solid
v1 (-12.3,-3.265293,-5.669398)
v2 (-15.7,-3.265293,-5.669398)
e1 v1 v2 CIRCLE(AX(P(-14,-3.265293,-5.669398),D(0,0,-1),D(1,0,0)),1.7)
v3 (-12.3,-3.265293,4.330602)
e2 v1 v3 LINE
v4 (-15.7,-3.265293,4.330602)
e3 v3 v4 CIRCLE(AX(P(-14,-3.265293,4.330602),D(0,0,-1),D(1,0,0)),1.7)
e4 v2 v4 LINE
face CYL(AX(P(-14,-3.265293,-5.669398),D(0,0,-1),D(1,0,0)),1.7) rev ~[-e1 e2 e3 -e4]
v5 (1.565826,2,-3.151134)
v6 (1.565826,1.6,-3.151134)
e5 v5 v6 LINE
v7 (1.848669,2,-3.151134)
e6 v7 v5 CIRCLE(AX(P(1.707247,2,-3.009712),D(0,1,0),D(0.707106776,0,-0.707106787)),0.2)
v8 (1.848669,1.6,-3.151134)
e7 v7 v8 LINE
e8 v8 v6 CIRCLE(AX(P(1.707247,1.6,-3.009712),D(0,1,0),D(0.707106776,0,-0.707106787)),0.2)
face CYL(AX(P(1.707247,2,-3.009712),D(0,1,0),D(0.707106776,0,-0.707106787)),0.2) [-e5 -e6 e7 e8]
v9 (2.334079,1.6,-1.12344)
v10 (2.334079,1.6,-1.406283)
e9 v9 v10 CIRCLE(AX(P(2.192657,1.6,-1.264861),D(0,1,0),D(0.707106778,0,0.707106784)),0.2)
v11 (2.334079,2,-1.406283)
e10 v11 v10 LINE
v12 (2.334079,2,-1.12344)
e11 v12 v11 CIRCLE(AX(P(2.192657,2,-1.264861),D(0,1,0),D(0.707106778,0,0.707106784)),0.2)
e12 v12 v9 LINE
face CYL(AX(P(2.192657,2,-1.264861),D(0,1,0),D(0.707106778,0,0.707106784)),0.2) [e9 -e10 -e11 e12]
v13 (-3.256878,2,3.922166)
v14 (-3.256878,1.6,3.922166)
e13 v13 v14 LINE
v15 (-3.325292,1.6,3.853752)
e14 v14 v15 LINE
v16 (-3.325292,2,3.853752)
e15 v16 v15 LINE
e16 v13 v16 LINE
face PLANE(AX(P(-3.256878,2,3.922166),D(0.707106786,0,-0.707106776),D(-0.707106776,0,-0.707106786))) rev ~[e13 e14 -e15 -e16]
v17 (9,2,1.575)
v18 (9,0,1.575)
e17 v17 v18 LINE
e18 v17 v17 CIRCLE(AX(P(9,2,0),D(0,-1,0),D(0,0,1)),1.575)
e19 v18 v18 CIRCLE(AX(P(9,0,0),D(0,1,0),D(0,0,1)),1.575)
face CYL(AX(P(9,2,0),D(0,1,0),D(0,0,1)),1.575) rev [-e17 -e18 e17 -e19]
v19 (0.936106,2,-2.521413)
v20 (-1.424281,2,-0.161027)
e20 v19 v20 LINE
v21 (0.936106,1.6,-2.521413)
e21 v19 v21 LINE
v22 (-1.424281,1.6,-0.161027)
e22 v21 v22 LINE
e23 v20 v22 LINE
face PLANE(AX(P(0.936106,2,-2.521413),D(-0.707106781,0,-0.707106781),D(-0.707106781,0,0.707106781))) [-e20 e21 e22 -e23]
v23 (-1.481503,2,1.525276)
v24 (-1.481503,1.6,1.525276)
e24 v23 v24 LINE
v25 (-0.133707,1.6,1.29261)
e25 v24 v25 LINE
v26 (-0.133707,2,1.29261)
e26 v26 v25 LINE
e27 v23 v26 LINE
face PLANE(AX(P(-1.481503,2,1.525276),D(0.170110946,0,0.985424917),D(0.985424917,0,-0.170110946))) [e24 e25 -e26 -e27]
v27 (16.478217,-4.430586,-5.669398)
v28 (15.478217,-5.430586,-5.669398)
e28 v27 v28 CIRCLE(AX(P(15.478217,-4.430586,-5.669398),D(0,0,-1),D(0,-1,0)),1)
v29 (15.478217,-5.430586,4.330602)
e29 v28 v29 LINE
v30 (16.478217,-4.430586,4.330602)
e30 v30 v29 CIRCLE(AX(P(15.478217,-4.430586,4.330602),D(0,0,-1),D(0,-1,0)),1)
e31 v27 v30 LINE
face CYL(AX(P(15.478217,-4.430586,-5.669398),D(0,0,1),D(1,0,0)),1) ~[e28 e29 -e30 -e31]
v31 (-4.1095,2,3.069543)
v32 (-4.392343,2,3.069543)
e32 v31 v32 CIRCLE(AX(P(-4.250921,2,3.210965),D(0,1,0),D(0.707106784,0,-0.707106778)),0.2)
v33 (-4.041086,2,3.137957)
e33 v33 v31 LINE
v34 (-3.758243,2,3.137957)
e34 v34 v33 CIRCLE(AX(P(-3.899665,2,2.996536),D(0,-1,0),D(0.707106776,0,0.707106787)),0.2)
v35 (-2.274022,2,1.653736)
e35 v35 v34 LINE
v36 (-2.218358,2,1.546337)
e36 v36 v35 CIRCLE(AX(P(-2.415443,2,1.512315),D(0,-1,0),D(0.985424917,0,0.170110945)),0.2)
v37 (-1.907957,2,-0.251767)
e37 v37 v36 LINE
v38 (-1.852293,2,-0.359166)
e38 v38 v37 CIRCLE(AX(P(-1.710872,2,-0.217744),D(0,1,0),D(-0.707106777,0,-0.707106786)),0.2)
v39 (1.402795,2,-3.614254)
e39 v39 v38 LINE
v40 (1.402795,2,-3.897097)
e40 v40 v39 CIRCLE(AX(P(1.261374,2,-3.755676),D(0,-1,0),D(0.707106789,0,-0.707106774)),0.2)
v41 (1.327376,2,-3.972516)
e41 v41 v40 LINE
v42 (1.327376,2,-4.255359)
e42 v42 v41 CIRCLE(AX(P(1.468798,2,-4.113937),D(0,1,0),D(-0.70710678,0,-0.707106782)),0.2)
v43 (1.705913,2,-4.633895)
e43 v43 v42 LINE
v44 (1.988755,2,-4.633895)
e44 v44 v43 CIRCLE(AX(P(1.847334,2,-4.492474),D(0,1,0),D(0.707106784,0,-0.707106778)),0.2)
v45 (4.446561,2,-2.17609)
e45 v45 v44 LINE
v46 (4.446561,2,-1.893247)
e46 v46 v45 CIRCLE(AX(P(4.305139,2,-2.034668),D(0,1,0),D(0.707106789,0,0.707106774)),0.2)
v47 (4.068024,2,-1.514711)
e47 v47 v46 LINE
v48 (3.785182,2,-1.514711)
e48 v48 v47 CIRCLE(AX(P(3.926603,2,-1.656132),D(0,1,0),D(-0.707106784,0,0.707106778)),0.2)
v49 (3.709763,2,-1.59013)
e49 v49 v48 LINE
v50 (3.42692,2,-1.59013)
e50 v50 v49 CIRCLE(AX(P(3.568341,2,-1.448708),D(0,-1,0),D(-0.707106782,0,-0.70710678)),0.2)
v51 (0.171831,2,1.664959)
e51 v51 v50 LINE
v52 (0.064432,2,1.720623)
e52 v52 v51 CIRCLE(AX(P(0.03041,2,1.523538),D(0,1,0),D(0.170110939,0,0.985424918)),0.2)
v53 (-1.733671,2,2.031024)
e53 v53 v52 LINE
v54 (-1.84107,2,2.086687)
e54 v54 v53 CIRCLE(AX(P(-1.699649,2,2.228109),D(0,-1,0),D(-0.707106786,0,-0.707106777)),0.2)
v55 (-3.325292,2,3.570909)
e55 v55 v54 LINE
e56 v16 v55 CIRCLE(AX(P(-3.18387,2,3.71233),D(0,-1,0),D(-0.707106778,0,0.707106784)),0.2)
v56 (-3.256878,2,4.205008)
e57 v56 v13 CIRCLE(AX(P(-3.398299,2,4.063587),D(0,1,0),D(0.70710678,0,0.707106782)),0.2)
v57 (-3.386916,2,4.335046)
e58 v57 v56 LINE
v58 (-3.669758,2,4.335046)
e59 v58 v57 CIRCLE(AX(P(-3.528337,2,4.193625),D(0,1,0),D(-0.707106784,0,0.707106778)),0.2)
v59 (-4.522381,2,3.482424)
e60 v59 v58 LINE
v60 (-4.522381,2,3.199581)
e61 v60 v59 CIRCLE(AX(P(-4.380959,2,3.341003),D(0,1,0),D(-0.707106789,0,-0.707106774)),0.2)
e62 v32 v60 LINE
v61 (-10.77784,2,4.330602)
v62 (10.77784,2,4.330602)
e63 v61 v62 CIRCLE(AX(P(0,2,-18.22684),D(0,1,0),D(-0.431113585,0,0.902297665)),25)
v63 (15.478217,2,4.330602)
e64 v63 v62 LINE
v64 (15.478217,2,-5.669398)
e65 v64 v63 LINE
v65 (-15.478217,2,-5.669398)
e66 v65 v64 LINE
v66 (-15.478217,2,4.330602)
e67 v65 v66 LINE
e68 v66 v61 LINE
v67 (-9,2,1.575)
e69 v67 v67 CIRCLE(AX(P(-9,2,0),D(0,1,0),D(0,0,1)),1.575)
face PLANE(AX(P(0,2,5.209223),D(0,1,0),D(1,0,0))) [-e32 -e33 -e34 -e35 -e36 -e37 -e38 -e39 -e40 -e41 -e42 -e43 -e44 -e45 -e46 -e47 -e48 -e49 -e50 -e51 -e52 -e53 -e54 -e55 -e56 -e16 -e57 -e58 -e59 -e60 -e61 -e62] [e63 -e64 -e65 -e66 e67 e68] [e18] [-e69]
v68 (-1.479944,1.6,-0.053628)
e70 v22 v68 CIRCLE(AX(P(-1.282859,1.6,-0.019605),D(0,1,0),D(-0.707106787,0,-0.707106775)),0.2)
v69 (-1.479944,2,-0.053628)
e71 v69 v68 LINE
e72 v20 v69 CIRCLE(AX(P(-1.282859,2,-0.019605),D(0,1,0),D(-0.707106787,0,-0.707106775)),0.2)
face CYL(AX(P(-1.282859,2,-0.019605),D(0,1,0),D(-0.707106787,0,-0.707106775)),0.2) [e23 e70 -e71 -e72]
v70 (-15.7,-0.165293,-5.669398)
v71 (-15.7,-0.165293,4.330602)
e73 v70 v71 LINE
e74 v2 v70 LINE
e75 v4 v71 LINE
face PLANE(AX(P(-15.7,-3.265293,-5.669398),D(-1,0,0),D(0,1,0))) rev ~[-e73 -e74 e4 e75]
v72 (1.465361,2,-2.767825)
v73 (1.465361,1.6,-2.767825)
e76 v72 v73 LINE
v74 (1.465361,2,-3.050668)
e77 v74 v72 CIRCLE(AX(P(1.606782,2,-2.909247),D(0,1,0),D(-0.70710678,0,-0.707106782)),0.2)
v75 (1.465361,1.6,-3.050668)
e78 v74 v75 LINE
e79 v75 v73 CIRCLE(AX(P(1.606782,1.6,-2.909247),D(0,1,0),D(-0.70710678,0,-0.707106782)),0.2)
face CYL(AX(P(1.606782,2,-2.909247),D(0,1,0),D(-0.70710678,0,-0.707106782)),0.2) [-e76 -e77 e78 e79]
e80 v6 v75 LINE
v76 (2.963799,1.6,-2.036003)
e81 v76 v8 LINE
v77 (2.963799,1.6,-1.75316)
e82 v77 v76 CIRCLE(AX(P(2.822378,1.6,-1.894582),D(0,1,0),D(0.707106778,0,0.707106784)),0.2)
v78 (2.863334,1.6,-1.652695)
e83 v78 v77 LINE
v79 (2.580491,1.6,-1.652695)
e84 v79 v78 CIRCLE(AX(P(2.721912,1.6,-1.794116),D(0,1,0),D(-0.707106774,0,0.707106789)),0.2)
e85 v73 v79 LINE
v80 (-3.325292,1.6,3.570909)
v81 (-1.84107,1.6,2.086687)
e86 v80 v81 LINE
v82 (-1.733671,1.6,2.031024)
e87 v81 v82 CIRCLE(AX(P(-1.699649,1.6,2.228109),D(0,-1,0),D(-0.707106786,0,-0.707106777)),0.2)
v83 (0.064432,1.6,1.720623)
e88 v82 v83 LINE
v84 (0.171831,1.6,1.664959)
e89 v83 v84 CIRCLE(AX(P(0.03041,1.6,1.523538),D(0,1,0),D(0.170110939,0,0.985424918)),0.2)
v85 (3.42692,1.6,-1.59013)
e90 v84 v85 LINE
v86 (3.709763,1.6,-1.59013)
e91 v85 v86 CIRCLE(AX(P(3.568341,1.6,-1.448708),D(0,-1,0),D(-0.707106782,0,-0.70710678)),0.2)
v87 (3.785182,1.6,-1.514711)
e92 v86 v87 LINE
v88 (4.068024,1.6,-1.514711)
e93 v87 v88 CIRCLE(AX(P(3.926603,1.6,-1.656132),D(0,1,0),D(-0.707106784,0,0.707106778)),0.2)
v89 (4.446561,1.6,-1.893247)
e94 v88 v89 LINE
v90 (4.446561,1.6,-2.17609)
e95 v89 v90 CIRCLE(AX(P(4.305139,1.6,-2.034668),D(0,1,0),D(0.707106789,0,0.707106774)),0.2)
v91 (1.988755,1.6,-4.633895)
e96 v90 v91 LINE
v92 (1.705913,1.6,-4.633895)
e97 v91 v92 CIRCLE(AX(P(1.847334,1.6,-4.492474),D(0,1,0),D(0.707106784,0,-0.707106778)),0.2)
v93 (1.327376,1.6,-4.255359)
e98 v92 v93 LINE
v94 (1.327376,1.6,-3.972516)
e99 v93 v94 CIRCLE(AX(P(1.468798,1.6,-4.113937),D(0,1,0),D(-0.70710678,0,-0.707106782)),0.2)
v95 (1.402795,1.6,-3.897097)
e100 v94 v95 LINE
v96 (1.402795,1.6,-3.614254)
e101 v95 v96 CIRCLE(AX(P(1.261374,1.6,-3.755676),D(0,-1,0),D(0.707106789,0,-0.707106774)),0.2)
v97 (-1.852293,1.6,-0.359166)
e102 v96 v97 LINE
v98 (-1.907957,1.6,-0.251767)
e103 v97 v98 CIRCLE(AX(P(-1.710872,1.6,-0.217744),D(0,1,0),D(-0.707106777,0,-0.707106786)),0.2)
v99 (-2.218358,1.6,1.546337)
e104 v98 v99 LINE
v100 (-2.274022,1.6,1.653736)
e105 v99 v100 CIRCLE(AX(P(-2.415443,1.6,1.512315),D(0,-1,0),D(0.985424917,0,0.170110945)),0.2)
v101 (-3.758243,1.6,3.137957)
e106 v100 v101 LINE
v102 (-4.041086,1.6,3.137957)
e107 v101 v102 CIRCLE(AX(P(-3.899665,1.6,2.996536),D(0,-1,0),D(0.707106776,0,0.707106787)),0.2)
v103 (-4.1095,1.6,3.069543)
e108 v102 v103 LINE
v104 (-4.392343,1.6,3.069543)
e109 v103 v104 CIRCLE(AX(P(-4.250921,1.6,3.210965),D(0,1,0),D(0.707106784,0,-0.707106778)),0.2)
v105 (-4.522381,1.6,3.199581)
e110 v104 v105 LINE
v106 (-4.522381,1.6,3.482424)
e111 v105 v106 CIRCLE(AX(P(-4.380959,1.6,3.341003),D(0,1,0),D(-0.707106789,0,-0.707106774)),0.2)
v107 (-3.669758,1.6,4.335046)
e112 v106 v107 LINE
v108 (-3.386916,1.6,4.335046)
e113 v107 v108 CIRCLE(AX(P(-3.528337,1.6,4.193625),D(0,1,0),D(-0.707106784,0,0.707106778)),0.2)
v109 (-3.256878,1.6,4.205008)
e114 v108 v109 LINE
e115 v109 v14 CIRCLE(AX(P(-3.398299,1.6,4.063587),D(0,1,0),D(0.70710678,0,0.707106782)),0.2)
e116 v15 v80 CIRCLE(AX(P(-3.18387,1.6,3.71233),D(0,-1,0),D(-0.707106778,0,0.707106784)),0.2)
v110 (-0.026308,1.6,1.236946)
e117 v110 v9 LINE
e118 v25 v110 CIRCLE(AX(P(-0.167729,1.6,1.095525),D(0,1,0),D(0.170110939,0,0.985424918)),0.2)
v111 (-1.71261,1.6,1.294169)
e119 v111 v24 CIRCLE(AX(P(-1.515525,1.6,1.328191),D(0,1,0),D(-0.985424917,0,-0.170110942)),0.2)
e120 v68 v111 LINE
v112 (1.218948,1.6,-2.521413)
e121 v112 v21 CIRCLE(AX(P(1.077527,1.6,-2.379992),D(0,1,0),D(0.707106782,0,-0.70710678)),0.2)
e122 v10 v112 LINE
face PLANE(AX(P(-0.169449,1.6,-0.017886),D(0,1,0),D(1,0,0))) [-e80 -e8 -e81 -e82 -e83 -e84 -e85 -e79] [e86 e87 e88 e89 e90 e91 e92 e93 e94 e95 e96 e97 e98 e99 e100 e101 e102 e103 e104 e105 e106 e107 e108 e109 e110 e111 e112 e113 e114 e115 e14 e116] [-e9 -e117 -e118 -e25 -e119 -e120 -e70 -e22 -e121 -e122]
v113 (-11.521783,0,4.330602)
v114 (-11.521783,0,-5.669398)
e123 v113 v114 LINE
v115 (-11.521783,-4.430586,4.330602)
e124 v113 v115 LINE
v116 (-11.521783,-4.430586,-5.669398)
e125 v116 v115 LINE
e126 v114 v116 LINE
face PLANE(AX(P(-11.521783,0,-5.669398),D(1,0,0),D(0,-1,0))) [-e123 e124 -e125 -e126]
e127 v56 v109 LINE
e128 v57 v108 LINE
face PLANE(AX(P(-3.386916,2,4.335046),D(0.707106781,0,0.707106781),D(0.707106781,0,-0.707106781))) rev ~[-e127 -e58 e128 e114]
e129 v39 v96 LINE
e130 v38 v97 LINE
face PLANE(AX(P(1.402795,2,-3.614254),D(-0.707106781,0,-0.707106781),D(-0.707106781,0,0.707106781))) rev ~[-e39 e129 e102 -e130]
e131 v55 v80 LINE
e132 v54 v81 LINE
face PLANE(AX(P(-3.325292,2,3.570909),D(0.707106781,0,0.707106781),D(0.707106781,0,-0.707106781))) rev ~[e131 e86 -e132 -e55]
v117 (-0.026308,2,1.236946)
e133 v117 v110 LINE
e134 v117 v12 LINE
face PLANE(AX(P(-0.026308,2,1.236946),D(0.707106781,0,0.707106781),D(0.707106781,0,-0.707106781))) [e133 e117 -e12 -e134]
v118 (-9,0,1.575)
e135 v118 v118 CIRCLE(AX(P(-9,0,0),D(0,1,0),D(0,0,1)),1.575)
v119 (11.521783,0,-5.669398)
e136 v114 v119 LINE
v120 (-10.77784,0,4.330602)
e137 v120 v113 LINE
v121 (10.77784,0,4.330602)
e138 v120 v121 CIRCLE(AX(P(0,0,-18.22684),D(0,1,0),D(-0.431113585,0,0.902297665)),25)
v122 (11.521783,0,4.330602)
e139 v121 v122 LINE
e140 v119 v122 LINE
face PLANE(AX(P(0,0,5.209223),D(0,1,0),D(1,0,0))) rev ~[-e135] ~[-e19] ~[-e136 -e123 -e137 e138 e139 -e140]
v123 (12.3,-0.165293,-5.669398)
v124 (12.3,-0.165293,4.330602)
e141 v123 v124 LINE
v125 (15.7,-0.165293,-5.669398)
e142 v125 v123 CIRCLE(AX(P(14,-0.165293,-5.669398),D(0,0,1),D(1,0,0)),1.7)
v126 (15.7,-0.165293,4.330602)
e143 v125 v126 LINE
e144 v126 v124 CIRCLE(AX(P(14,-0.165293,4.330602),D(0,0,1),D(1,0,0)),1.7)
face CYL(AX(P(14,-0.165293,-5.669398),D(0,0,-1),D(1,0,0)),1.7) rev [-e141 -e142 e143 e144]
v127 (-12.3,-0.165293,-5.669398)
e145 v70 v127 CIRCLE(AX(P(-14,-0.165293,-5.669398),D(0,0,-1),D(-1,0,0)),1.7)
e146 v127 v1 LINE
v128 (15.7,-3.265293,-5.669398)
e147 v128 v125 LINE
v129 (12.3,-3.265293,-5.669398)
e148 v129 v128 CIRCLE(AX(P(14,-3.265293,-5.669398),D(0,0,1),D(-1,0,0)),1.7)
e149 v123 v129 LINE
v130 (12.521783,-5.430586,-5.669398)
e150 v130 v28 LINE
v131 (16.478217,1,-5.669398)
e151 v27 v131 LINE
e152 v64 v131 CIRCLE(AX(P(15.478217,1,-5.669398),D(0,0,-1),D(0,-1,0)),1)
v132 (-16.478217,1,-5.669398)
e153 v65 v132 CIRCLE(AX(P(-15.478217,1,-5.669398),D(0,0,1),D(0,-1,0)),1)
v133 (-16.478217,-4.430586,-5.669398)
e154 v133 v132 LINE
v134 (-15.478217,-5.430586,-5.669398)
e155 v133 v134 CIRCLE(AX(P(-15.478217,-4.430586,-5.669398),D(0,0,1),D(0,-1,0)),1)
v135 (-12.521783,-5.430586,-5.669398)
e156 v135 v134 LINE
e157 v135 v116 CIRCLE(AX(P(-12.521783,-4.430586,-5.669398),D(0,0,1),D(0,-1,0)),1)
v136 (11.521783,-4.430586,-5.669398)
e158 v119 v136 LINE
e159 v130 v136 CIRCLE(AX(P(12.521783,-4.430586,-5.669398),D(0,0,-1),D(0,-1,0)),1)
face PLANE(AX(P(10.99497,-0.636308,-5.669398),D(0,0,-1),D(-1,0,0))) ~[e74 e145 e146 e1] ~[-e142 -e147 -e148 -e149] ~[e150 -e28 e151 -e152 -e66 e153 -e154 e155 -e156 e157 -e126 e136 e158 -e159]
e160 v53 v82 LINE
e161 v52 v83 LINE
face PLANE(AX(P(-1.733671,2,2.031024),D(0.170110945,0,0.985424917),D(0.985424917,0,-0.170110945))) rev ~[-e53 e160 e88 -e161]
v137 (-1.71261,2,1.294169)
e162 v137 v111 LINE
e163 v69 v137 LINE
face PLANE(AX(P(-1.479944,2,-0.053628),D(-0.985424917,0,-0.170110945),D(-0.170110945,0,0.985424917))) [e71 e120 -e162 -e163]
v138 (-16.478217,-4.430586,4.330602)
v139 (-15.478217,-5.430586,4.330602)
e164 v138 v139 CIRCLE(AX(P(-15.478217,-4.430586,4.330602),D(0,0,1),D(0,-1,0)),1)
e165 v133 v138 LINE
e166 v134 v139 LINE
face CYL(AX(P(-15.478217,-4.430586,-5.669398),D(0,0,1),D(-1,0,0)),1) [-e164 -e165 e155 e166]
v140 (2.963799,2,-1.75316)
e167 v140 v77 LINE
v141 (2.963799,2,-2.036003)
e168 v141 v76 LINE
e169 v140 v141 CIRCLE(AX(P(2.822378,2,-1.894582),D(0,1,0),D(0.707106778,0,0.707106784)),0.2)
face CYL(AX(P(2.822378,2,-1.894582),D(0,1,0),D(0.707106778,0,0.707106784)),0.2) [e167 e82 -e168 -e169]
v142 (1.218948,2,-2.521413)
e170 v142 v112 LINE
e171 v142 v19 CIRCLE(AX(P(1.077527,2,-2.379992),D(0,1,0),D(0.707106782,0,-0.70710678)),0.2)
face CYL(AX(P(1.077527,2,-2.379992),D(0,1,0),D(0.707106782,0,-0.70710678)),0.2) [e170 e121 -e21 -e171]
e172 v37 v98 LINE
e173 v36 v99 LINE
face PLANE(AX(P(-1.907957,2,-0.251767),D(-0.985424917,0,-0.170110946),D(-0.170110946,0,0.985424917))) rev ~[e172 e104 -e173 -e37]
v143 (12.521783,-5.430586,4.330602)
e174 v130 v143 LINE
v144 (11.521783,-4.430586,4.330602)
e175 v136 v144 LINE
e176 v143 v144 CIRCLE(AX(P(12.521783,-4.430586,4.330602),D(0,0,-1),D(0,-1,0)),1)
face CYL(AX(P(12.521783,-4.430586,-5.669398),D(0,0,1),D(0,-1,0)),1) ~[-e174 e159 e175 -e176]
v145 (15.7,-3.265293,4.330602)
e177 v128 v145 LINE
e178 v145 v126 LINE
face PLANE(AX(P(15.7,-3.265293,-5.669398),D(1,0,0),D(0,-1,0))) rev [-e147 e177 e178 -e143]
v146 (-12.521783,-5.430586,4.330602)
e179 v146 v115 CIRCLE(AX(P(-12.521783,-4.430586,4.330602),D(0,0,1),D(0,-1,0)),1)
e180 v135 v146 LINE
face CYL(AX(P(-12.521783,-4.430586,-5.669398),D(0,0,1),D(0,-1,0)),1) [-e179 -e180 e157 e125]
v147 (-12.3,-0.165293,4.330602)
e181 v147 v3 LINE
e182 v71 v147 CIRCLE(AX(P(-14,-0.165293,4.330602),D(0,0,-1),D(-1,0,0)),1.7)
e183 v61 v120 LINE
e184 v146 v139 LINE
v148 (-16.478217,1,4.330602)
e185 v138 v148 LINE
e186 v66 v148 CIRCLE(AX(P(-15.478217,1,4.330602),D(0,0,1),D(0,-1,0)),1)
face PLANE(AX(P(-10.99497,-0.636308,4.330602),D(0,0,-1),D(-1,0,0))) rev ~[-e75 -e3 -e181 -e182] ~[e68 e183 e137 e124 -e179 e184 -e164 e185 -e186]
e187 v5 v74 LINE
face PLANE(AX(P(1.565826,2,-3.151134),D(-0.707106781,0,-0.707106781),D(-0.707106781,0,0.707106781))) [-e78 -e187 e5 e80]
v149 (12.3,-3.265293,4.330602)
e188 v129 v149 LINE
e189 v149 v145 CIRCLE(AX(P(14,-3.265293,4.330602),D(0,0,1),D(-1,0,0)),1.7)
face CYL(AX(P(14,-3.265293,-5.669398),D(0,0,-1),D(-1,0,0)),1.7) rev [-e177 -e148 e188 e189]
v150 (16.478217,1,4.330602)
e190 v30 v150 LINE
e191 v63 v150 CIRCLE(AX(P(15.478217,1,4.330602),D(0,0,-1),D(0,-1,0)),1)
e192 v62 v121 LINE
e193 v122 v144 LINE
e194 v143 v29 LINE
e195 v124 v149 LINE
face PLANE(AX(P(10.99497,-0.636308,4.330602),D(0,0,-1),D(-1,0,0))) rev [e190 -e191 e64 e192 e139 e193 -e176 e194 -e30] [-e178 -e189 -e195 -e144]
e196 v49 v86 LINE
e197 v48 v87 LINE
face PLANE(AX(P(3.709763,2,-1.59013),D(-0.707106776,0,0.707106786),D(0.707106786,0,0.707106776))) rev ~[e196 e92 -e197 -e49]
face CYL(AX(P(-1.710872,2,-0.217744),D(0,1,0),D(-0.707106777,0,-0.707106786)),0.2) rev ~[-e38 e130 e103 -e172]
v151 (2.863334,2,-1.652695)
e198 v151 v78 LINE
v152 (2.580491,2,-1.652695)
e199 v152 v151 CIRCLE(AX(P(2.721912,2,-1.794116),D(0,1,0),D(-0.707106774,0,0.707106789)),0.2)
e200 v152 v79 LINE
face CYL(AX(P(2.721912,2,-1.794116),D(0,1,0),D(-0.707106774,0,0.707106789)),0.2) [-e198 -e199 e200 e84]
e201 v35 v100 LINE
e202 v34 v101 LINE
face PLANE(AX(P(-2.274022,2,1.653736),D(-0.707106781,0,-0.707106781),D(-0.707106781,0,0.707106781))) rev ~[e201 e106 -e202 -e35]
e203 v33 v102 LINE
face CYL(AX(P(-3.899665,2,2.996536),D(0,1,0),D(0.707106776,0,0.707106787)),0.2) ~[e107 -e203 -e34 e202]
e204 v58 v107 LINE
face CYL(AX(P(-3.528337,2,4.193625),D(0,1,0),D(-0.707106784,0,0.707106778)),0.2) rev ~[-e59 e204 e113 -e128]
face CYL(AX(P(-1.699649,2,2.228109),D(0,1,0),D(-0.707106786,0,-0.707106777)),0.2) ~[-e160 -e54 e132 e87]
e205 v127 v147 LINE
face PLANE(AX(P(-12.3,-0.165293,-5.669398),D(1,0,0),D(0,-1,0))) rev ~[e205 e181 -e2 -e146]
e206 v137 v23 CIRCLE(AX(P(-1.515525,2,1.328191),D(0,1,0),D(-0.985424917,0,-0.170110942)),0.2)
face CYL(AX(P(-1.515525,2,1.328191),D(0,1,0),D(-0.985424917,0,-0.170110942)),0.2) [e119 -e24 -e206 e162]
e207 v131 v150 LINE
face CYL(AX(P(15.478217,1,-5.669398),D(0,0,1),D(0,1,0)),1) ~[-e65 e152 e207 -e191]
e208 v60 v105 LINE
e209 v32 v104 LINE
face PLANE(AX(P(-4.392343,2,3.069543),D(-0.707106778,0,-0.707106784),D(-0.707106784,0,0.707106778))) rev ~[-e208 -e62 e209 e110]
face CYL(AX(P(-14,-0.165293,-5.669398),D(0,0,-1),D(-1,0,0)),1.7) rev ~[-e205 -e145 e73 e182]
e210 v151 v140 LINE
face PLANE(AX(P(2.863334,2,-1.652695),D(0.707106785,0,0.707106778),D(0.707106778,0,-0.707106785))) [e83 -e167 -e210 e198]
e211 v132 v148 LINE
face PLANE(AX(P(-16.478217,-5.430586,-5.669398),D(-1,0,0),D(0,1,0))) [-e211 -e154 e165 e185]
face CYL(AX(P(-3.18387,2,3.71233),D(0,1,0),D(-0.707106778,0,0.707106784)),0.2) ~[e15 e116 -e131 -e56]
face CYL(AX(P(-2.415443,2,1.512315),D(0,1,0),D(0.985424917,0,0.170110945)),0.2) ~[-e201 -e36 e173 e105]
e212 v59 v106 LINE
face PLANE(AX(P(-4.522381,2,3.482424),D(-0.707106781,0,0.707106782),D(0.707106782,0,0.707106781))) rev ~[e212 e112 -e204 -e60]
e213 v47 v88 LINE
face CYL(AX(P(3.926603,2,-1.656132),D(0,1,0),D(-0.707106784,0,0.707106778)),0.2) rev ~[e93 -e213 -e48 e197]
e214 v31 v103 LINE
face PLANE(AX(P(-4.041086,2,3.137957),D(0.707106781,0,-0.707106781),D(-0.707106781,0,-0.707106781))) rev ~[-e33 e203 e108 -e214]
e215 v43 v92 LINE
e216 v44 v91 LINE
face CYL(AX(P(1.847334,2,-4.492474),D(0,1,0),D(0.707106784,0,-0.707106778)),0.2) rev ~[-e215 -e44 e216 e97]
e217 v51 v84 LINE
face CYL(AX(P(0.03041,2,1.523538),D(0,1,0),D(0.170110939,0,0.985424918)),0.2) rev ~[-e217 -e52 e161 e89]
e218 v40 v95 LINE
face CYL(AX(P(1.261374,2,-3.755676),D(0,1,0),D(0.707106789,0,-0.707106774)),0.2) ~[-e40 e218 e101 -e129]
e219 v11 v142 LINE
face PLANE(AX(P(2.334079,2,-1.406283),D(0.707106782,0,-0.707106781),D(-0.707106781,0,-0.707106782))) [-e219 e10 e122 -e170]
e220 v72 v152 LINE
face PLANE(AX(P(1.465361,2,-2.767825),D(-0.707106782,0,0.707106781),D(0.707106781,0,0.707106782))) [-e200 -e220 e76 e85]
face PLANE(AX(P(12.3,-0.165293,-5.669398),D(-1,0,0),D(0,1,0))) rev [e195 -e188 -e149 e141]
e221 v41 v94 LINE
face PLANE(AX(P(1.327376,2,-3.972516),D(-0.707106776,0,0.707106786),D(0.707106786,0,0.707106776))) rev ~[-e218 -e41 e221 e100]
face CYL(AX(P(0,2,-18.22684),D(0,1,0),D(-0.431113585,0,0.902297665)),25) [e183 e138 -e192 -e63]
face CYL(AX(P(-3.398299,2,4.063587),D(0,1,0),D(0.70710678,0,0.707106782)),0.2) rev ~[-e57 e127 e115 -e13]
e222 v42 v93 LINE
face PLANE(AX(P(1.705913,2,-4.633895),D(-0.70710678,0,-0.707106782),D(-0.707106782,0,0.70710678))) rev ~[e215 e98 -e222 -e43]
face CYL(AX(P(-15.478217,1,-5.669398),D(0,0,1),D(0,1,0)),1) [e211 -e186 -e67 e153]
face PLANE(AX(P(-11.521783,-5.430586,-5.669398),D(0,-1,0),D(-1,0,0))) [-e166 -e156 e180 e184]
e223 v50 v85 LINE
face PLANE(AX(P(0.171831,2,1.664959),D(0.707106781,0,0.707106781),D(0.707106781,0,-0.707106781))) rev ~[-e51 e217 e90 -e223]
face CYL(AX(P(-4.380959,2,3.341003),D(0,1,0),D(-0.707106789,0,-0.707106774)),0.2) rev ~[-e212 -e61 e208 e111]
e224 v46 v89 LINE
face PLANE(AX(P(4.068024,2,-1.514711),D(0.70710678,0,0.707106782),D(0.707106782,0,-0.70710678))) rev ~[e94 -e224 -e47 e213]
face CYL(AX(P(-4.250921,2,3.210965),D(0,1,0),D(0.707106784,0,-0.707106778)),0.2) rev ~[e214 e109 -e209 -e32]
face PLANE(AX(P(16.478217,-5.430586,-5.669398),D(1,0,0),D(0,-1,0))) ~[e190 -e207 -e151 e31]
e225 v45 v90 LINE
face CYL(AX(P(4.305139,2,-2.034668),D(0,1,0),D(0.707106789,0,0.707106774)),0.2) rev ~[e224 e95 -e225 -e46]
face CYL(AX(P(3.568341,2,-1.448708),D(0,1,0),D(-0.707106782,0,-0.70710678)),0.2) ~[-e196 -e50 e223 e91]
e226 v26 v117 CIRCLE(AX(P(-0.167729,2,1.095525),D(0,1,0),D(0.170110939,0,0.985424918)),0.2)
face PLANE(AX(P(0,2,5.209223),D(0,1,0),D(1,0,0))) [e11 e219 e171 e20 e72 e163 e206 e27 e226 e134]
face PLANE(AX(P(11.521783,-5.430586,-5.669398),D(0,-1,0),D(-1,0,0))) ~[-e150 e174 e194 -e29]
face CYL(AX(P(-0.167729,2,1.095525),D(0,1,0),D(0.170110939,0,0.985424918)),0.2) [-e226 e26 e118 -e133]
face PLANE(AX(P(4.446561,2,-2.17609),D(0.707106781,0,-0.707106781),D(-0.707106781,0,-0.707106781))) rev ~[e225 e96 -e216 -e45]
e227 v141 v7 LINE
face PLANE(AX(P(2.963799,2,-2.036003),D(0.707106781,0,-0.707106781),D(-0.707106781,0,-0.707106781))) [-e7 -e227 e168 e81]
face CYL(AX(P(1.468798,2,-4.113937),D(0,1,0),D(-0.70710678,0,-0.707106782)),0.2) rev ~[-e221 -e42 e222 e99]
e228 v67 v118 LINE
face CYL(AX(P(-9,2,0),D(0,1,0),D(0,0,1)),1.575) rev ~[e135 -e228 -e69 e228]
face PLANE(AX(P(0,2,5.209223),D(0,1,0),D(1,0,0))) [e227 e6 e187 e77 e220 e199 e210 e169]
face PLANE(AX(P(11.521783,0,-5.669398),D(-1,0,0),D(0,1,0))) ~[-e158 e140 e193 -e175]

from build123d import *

# Parameters (mm, degrees)
SKETCH_1_W          = 27.112781954
SKETCH_1_H          = 9.518796992
SKETCH_1_R          = 1.575
EXTRUDE_1_DEPTH     = 2
SKETCH_2_W          = 27.112781954
SKETCH_2_H          = 2
EXTRUDE_2_DEPTH     = 0.91
CUT_EXTRUDE_1_DEPTH = 15.829626281
CUT_EXTRUDE_2_DEPTH = 17.785702449
EXTRUDE_3_DEPTH     = 10
SKETCH_8_R          = 1.575
CUT_EXTRUDE_3_DEPTH = 10
EXTRUDE_4_DEPTH     = 2
FILLET_2_R          = 1
CUT_EXTRUDE_4_DEPTH = 0.4


with BuildPart() as part:
    # Эскиз1 → Бобышка-Вытянуть1 (new body)
    with BuildSketch(Plane(origin=(0, 0, 0), x_dir=(1, 0, 0), z_dir=(0, 1, 0))):
        Rectangle(SKETCH_1_W, SKETCH_1_H)
        with Locations(Location((-9, 0, 0), (0, 0, 270))):
            Circle(SKETCH_1_R, mode=Mode.SUBTRACT)
        with Locations(Location((9, 0, 0), (0, 0, 270))):
            Circle(SKETCH_1_R, mode=Mode.SUBTRACT)
    extrude(amount=EXTRUDE_1_DEPTH)

    # Эскиз2 → Бобышка-Вытянуть2 (add)
    with BuildSketch(Plane(origin=(0, 0, -4.759398496), x_dir=(-1, 0, 0), z_dir=(0, 0, -1))):
        with Locations((0, 1)):
            Rectangle(SKETCH_2_W, SKETCH_2_H)
    extrude(amount=EXTRUDE_2_DEPTH)

    # Эскиз3 → Вырез-Вытянуть1 (cut, through all)
    with BuildSketch(Plane.XZ):
        Polygon((-6.720997268, 4.759398496), (-3, 5.765), (-14.556442119, 5.765), (-14.556442119, -5.765), (-3, -5.765), (-3.353751395, -5.669398496), (-13.556390977, -5.669398496), (-13.556390977, 4.759398496), align=None)
        with BuildLine():
            Line((-10.043565082, 3.861472766), (-6.720997268, 4.759398496))
            Line((-6.720997268, 4.759398496), (-13.556390977, 4.759398496))
            Line((-13.556390977, 4.759398496), (-13.556390977, -5.669398496))
            Line((-13.556390977, -5.669398496), (-3.353751395, -5.669398496))
            Line((-3.353751395, -5.669398496), (-10.043565082, -3.861472766))
            ThreePointArc((-10.043565082, -3.861472766), (-13, 0), (-10.043565082, 3.861472766))
        make_face()
        with BuildLine():
            Line((13.556390977, 4.759398496), (6.720997268, 4.759398496))
            Line((6.720997268, 4.759398496), (10.043565082, 3.861472766))
            ThreePointArc((10.043565082, 3.861472766), (12.17602427, 2.431639331), (13, 0))
            ThreePointArc((13, 0), (12.17602427, -2.431639331), (10.043565082, -3.861472766))
            Line((10.043565082, -3.861472766), (3.353751395, -5.669398496))
            Line((3.353751395, -5.669398496), (13.556390977, -5.669398496))
            Line((13.556390977, -5.669398496), (13.556390977, 4.759398496))
        make_face()
        Polygon((3, 5.765), (6.720997268, 4.759398496), (13.556390977, 4.759398496), (13.556390977, -5.669398496), (3.353751395, -5.669398496), (3, -5.765), (14.556442119, -5.765), (14.556442119, 5.765), align=None)
    extrude(amount=-CUT_EXTRUDE_1_DEPTH, mode=Mode.SUBTRACT)

    # Эскиз4 → Вырез-Вытянуть2 (cut, through all)
    with BuildSketch(Plane(origin=(0, 0, -5.669398496), x_dir=(-1, 0, 0), z_dir=(0, 0, -1))):
        Polygon((11.521782541, 2), (11.521782541, -6.403006286), (13.618299284, -6.403006286), (13.618299284, 3.686124148), (11.521782541, 3.686124148), align=None)
        Polygon((-13.618299284, -6.403006286), (-11.521782541, -6.403006286), (-11.521782541, 2), (-11.521782541, 3.686124148), (-13.618299284, 3.686124148), align=None)
    extrude(amount=-CUT_EXTRUDE_2_DEPTH, mode=Mode.SUBTRACT)

    # Эскиз7 → Бобышка-Вытянуть3 (add)
    with BuildSketch(Plane(origin=(0, 0, -5.669398496), x_dir=(-1, 0, 0), z_dir=(0, 0, -1))):
        Polygon((3.353751395, 0), (11.521782541, 0), (11.521782541, -5.430586026), (16.478217459, -5.430586026), (16.478217459, 2), (11.521782541, 2), (3.353751395, 2), align=None)
        with BuildLine():
            Line((15.7, -3.265293013), (15.7, -0.165293013))
            ThreePointArc((15.7, -0.165293013), (14, 1.534706987), (12.3, -0.165293013))
            Line((12.3, -0.165293013), (12.3, -3.265293013))
            ThreePointArc((12.3, -3.265293013), (14, -4.965293013), (15.7, -3.265293013))
        make_face(mode=Mode.SUBTRACT)
    extrude_3 = extrude(amount=-EXTRUDE_3_DEPTH)

    # Эскиз8 → Вырез-Вытянуть3 (cut)
    with BuildSketch(Plane(origin=(0, 2, 0), x_dir=(1, 0, 0), z_dir=(0, 1, 0))):
        with Locations(Location((-9, 0, 0), (0, 0, 270))):
            Circle(SKETCH_8_R)
    cut_extrude_3 = extrude(amount=-CUT_EXTRUDE_3_DEPTH, mode=Mode.SUBTRACT)

    # Зеркальное отражение1: Бобышка-Вытянуть3, Вырез-Вытянуть3 across plane
    add(extrude_3.mirror(Plane(origin=(0, 0, 0), x_dir=(0, 0, 1), z_dir=(1, 0, 0))))
    add(cut_extrude_3.mirror(Plane(origin=(0, 0, 0), x_dir=(0, 0, 1), z_dir=(1, 0, 0))), mode=Mode.SUBTRACT)

    # Эскиз9 → Бобышка-Вытянуть4 (add)
    with BuildSketch(Plane(origin=(0, 2, 0), x_dir=(1, 0, 0), z_dir=(0, 1, 0))):
        with BuildLine():
            Line((6.720997268, -4.759398496), (-6.720997268, -4.759398496))
            Line((-6.720997268, -4.759398496), (-8.307661997, -4.330601504))
            Line((-8.307661997, -4.330601504), (-10.777839616, -4.330601504))
            ThreePointArc((-10.777839616, -4.330601504), (0, -6.773159867), (10.777839616, -4.330601504))
            Line((10.777839616, -4.330601504), (8.307661997, -4.330601504))
            Line((8.307661997, -4.330601504), (6.720997268, -4.759398496))
        make_face()
    extrude(amount=-EXTRUDE_4_DEPTH)

    # Скругление2
    fillet_2_edges = [part.edges().sort_by_distance(p)[0] for p in [
        (-16.478217459, 2, -0.669398496),
        (-16.478217459, -5.430586026, -0.669398496),
        (-11.521782541, -5.430586026, -0.669398496),
        (11.521782541, -5.430586026, -0.669398496),
        (16.478217459, -5.430586026, -0.669398496),
        (16.478217459, 2, -0.669398496),
    ]]
    fillet(fillet_2_edges, radius=FILLET_2_R)

    # Эскиз12 → Вырез-Вытянуть4 (cut)
    with BuildSketch(Plane(origin=(0, 2, 0), x_dir=(1, 0, 0), z_dir=(0, 1, 0))):
        with BuildLine():
            Line((4.446560813, 2.176089775), (1.988755362, 4.633895225))
            ThreePointArc((1.988755362, 4.633895225), (1.847334006, 4.692473869), (1.70591265, 4.633895225))
            Line((1.70591265, 4.633895225), (1.327376273, 4.255358849))
            ThreePointArc((1.327376273, 4.255358849), (1.268797629, 4.113937492), (1.327376273, 3.972516136))
            Line((1.327376273, 3.972516136), (1.402795262, 3.897097148))
            ThreePointArc((1.402795262, 3.897097148), (1.461373905, 3.755675791), (1.402795262, 3.614254435))
            Line((1.402795262, 3.614254435), (-1.852293326, 0.359165847))
            ThreePointArc((-1.852293326, 0.359165847), (-1.888439649, 0.309775569), (-1.907956953, 0.25176668))
            Line((-1.907956953, 0.25176668), (-2.218358166, -1.546336835))
            ThreePointArc((-2.218358166, -1.546336835), (-2.23787547, -1.604345724), (-2.274021793, -1.653736003))
            Line((-2.274021793, -1.653736003), (-3.75824321, -3.13795742))
            ThreePointArc((-3.75824321, -3.13795742), (-3.899664566, -3.196536063), (-4.041085922, -3.13795742))
            Line((-4.041085922, -3.13795742), (-4.109500023, -3.069543319))
            ThreePointArc((-4.109500023, -3.069543319), (-4.250921379, -3.010964675), (-4.392342735, -3.069543319))
            Line((-4.392342735, -3.069543319), (-4.522380617, -3.1995812))
            ThreePointArc((-4.522380617, -3.1995812), (-4.58095926, -3.341002556), (-4.522380617, -3.482423913))
            Line((-4.522380617, -3.482423913), (-3.669758325, -4.335046204))
            ThreePointArc((-3.669758325, -4.335046204), (-3.528336969, -4.393624848), (-3.386915613, -4.335046204))
            Line((-3.386915613, -4.335046204), (-3.256877732, -4.205008323))
            ThreePointArc((-3.256877732, -4.205008323), (-3.198299088, -4.063586966), (-3.256877732, -3.92216561))
            Line((-3.256877732, -3.92216561), (-3.325291832, -3.853751509))
            ThreePointArc((-3.325291832, -3.853751509), (-3.383870476, -3.712330153), (-3.325291832, -3.570908797))
            Line((-3.325291832, -3.570908797), (-1.841070415, -2.08668738))
            ThreePointArc((-1.841070415, -2.08668738), (-1.791680137, -2.050541057), (-1.733671248, -2.031023753))
            Line((-1.733671248, -2.031023753), (0.064432267, -1.720622541))
            ThreePointArc((0.064432267, -1.720622541), (0.122441156, -1.701105237), (0.171831435, -1.664958913))
            Line((0.171831435, -1.664958913), (3.426920022, 1.590129674))
            ThreePointArc((3.426920022, 1.590129674), (3.568341379, 1.648708318), (3.709762735, 1.590129674))
            Line((3.709762735, 1.590129674), (3.785181724, 1.514710686))
            ThreePointArc((3.785181724, 1.514710686), (3.92660308, 1.456132042), (4.068024436, 1.514710686))
            Line((4.068024436, 1.514710686), (4.446560813, 1.893247062))
            ThreePointArc((4.446560813, 1.893247062), (4.505139456, 2.034668419), (4.446560813, 2.176089775))
        make_face()
        with BuildLine():
            Line((2.963799211, 2.036003209), (1.848668796, 3.151133624))
            ThreePointArc((1.848668796, 3.151133624), (1.70724744, 3.209712267), (1.565826084, 3.151133624))
            Line((1.565826084, 3.151133624), (1.465360653, 3.050668193))
            ThreePointArc((1.465360653, 3.050668193), (1.406782009, 2.909246836), (1.465360653, 2.76782548))
            Line((1.465360653, 2.76782548), (2.580491067, 1.652695065))
            ThreePointArc((2.580491067, 1.652695065), (2.721912424, 1.594116422), (2.86333378, 1.652695065))
            Line((2.86333378, 1.652695065), (2.963799211, 1.753160497))
            ThreePointArc((2.963799211, 1.753160497), (3.022377855, 1.894581853), (2.963799211, 2.036003209))
        make_face(mode=Mode.SUBTRACT)
        with BuildLine():
            Line((2.334078689, 1.406282687), (1.218948275, 2.521413102))
            ThreePointArc((1.218948275, 2.521413102), (1.077526918, 2.579991746), (0.936105562, 2.521413102))
            Line((0.936105562, 2.521413102), (-1.42428076, 0.16102678))
            ThreePointArc((-1.42428076, 0.16102678), (-1.460427083, 0.111636501), (-1.479944387, 0.053627613))
            Line((-1.479944387, 0.053627613), (-1.712610446, -1.294168861))
            ThreePointArc((-1.712610446, -1.294168861), (-1.656946819, -1.469612406), (-1.481503274, -1.525276034))
            Line((-1.481503274, -1.525276034), (-0.1337068, -1.292609974))
            ThreePointArc((-0.1337068, -1.292609974), (-0.075697911, -1.27309267), (-0.026307633, -1.236946347))
            Line((-0.026307633, -1.236946347), (2.334078689, 1.123439975))
            ThreePointArc((2.334078689, 1.123439975), (2.392657333, 1.264861331), (2.334078689, 1.406282687))
        make_face(mode=Mode.SUBTRACT)
    extrude(amount=-CUT_EXTRUDE_4_DEPTH, mode=Mode.SUBTRACT)


solid = part.part
